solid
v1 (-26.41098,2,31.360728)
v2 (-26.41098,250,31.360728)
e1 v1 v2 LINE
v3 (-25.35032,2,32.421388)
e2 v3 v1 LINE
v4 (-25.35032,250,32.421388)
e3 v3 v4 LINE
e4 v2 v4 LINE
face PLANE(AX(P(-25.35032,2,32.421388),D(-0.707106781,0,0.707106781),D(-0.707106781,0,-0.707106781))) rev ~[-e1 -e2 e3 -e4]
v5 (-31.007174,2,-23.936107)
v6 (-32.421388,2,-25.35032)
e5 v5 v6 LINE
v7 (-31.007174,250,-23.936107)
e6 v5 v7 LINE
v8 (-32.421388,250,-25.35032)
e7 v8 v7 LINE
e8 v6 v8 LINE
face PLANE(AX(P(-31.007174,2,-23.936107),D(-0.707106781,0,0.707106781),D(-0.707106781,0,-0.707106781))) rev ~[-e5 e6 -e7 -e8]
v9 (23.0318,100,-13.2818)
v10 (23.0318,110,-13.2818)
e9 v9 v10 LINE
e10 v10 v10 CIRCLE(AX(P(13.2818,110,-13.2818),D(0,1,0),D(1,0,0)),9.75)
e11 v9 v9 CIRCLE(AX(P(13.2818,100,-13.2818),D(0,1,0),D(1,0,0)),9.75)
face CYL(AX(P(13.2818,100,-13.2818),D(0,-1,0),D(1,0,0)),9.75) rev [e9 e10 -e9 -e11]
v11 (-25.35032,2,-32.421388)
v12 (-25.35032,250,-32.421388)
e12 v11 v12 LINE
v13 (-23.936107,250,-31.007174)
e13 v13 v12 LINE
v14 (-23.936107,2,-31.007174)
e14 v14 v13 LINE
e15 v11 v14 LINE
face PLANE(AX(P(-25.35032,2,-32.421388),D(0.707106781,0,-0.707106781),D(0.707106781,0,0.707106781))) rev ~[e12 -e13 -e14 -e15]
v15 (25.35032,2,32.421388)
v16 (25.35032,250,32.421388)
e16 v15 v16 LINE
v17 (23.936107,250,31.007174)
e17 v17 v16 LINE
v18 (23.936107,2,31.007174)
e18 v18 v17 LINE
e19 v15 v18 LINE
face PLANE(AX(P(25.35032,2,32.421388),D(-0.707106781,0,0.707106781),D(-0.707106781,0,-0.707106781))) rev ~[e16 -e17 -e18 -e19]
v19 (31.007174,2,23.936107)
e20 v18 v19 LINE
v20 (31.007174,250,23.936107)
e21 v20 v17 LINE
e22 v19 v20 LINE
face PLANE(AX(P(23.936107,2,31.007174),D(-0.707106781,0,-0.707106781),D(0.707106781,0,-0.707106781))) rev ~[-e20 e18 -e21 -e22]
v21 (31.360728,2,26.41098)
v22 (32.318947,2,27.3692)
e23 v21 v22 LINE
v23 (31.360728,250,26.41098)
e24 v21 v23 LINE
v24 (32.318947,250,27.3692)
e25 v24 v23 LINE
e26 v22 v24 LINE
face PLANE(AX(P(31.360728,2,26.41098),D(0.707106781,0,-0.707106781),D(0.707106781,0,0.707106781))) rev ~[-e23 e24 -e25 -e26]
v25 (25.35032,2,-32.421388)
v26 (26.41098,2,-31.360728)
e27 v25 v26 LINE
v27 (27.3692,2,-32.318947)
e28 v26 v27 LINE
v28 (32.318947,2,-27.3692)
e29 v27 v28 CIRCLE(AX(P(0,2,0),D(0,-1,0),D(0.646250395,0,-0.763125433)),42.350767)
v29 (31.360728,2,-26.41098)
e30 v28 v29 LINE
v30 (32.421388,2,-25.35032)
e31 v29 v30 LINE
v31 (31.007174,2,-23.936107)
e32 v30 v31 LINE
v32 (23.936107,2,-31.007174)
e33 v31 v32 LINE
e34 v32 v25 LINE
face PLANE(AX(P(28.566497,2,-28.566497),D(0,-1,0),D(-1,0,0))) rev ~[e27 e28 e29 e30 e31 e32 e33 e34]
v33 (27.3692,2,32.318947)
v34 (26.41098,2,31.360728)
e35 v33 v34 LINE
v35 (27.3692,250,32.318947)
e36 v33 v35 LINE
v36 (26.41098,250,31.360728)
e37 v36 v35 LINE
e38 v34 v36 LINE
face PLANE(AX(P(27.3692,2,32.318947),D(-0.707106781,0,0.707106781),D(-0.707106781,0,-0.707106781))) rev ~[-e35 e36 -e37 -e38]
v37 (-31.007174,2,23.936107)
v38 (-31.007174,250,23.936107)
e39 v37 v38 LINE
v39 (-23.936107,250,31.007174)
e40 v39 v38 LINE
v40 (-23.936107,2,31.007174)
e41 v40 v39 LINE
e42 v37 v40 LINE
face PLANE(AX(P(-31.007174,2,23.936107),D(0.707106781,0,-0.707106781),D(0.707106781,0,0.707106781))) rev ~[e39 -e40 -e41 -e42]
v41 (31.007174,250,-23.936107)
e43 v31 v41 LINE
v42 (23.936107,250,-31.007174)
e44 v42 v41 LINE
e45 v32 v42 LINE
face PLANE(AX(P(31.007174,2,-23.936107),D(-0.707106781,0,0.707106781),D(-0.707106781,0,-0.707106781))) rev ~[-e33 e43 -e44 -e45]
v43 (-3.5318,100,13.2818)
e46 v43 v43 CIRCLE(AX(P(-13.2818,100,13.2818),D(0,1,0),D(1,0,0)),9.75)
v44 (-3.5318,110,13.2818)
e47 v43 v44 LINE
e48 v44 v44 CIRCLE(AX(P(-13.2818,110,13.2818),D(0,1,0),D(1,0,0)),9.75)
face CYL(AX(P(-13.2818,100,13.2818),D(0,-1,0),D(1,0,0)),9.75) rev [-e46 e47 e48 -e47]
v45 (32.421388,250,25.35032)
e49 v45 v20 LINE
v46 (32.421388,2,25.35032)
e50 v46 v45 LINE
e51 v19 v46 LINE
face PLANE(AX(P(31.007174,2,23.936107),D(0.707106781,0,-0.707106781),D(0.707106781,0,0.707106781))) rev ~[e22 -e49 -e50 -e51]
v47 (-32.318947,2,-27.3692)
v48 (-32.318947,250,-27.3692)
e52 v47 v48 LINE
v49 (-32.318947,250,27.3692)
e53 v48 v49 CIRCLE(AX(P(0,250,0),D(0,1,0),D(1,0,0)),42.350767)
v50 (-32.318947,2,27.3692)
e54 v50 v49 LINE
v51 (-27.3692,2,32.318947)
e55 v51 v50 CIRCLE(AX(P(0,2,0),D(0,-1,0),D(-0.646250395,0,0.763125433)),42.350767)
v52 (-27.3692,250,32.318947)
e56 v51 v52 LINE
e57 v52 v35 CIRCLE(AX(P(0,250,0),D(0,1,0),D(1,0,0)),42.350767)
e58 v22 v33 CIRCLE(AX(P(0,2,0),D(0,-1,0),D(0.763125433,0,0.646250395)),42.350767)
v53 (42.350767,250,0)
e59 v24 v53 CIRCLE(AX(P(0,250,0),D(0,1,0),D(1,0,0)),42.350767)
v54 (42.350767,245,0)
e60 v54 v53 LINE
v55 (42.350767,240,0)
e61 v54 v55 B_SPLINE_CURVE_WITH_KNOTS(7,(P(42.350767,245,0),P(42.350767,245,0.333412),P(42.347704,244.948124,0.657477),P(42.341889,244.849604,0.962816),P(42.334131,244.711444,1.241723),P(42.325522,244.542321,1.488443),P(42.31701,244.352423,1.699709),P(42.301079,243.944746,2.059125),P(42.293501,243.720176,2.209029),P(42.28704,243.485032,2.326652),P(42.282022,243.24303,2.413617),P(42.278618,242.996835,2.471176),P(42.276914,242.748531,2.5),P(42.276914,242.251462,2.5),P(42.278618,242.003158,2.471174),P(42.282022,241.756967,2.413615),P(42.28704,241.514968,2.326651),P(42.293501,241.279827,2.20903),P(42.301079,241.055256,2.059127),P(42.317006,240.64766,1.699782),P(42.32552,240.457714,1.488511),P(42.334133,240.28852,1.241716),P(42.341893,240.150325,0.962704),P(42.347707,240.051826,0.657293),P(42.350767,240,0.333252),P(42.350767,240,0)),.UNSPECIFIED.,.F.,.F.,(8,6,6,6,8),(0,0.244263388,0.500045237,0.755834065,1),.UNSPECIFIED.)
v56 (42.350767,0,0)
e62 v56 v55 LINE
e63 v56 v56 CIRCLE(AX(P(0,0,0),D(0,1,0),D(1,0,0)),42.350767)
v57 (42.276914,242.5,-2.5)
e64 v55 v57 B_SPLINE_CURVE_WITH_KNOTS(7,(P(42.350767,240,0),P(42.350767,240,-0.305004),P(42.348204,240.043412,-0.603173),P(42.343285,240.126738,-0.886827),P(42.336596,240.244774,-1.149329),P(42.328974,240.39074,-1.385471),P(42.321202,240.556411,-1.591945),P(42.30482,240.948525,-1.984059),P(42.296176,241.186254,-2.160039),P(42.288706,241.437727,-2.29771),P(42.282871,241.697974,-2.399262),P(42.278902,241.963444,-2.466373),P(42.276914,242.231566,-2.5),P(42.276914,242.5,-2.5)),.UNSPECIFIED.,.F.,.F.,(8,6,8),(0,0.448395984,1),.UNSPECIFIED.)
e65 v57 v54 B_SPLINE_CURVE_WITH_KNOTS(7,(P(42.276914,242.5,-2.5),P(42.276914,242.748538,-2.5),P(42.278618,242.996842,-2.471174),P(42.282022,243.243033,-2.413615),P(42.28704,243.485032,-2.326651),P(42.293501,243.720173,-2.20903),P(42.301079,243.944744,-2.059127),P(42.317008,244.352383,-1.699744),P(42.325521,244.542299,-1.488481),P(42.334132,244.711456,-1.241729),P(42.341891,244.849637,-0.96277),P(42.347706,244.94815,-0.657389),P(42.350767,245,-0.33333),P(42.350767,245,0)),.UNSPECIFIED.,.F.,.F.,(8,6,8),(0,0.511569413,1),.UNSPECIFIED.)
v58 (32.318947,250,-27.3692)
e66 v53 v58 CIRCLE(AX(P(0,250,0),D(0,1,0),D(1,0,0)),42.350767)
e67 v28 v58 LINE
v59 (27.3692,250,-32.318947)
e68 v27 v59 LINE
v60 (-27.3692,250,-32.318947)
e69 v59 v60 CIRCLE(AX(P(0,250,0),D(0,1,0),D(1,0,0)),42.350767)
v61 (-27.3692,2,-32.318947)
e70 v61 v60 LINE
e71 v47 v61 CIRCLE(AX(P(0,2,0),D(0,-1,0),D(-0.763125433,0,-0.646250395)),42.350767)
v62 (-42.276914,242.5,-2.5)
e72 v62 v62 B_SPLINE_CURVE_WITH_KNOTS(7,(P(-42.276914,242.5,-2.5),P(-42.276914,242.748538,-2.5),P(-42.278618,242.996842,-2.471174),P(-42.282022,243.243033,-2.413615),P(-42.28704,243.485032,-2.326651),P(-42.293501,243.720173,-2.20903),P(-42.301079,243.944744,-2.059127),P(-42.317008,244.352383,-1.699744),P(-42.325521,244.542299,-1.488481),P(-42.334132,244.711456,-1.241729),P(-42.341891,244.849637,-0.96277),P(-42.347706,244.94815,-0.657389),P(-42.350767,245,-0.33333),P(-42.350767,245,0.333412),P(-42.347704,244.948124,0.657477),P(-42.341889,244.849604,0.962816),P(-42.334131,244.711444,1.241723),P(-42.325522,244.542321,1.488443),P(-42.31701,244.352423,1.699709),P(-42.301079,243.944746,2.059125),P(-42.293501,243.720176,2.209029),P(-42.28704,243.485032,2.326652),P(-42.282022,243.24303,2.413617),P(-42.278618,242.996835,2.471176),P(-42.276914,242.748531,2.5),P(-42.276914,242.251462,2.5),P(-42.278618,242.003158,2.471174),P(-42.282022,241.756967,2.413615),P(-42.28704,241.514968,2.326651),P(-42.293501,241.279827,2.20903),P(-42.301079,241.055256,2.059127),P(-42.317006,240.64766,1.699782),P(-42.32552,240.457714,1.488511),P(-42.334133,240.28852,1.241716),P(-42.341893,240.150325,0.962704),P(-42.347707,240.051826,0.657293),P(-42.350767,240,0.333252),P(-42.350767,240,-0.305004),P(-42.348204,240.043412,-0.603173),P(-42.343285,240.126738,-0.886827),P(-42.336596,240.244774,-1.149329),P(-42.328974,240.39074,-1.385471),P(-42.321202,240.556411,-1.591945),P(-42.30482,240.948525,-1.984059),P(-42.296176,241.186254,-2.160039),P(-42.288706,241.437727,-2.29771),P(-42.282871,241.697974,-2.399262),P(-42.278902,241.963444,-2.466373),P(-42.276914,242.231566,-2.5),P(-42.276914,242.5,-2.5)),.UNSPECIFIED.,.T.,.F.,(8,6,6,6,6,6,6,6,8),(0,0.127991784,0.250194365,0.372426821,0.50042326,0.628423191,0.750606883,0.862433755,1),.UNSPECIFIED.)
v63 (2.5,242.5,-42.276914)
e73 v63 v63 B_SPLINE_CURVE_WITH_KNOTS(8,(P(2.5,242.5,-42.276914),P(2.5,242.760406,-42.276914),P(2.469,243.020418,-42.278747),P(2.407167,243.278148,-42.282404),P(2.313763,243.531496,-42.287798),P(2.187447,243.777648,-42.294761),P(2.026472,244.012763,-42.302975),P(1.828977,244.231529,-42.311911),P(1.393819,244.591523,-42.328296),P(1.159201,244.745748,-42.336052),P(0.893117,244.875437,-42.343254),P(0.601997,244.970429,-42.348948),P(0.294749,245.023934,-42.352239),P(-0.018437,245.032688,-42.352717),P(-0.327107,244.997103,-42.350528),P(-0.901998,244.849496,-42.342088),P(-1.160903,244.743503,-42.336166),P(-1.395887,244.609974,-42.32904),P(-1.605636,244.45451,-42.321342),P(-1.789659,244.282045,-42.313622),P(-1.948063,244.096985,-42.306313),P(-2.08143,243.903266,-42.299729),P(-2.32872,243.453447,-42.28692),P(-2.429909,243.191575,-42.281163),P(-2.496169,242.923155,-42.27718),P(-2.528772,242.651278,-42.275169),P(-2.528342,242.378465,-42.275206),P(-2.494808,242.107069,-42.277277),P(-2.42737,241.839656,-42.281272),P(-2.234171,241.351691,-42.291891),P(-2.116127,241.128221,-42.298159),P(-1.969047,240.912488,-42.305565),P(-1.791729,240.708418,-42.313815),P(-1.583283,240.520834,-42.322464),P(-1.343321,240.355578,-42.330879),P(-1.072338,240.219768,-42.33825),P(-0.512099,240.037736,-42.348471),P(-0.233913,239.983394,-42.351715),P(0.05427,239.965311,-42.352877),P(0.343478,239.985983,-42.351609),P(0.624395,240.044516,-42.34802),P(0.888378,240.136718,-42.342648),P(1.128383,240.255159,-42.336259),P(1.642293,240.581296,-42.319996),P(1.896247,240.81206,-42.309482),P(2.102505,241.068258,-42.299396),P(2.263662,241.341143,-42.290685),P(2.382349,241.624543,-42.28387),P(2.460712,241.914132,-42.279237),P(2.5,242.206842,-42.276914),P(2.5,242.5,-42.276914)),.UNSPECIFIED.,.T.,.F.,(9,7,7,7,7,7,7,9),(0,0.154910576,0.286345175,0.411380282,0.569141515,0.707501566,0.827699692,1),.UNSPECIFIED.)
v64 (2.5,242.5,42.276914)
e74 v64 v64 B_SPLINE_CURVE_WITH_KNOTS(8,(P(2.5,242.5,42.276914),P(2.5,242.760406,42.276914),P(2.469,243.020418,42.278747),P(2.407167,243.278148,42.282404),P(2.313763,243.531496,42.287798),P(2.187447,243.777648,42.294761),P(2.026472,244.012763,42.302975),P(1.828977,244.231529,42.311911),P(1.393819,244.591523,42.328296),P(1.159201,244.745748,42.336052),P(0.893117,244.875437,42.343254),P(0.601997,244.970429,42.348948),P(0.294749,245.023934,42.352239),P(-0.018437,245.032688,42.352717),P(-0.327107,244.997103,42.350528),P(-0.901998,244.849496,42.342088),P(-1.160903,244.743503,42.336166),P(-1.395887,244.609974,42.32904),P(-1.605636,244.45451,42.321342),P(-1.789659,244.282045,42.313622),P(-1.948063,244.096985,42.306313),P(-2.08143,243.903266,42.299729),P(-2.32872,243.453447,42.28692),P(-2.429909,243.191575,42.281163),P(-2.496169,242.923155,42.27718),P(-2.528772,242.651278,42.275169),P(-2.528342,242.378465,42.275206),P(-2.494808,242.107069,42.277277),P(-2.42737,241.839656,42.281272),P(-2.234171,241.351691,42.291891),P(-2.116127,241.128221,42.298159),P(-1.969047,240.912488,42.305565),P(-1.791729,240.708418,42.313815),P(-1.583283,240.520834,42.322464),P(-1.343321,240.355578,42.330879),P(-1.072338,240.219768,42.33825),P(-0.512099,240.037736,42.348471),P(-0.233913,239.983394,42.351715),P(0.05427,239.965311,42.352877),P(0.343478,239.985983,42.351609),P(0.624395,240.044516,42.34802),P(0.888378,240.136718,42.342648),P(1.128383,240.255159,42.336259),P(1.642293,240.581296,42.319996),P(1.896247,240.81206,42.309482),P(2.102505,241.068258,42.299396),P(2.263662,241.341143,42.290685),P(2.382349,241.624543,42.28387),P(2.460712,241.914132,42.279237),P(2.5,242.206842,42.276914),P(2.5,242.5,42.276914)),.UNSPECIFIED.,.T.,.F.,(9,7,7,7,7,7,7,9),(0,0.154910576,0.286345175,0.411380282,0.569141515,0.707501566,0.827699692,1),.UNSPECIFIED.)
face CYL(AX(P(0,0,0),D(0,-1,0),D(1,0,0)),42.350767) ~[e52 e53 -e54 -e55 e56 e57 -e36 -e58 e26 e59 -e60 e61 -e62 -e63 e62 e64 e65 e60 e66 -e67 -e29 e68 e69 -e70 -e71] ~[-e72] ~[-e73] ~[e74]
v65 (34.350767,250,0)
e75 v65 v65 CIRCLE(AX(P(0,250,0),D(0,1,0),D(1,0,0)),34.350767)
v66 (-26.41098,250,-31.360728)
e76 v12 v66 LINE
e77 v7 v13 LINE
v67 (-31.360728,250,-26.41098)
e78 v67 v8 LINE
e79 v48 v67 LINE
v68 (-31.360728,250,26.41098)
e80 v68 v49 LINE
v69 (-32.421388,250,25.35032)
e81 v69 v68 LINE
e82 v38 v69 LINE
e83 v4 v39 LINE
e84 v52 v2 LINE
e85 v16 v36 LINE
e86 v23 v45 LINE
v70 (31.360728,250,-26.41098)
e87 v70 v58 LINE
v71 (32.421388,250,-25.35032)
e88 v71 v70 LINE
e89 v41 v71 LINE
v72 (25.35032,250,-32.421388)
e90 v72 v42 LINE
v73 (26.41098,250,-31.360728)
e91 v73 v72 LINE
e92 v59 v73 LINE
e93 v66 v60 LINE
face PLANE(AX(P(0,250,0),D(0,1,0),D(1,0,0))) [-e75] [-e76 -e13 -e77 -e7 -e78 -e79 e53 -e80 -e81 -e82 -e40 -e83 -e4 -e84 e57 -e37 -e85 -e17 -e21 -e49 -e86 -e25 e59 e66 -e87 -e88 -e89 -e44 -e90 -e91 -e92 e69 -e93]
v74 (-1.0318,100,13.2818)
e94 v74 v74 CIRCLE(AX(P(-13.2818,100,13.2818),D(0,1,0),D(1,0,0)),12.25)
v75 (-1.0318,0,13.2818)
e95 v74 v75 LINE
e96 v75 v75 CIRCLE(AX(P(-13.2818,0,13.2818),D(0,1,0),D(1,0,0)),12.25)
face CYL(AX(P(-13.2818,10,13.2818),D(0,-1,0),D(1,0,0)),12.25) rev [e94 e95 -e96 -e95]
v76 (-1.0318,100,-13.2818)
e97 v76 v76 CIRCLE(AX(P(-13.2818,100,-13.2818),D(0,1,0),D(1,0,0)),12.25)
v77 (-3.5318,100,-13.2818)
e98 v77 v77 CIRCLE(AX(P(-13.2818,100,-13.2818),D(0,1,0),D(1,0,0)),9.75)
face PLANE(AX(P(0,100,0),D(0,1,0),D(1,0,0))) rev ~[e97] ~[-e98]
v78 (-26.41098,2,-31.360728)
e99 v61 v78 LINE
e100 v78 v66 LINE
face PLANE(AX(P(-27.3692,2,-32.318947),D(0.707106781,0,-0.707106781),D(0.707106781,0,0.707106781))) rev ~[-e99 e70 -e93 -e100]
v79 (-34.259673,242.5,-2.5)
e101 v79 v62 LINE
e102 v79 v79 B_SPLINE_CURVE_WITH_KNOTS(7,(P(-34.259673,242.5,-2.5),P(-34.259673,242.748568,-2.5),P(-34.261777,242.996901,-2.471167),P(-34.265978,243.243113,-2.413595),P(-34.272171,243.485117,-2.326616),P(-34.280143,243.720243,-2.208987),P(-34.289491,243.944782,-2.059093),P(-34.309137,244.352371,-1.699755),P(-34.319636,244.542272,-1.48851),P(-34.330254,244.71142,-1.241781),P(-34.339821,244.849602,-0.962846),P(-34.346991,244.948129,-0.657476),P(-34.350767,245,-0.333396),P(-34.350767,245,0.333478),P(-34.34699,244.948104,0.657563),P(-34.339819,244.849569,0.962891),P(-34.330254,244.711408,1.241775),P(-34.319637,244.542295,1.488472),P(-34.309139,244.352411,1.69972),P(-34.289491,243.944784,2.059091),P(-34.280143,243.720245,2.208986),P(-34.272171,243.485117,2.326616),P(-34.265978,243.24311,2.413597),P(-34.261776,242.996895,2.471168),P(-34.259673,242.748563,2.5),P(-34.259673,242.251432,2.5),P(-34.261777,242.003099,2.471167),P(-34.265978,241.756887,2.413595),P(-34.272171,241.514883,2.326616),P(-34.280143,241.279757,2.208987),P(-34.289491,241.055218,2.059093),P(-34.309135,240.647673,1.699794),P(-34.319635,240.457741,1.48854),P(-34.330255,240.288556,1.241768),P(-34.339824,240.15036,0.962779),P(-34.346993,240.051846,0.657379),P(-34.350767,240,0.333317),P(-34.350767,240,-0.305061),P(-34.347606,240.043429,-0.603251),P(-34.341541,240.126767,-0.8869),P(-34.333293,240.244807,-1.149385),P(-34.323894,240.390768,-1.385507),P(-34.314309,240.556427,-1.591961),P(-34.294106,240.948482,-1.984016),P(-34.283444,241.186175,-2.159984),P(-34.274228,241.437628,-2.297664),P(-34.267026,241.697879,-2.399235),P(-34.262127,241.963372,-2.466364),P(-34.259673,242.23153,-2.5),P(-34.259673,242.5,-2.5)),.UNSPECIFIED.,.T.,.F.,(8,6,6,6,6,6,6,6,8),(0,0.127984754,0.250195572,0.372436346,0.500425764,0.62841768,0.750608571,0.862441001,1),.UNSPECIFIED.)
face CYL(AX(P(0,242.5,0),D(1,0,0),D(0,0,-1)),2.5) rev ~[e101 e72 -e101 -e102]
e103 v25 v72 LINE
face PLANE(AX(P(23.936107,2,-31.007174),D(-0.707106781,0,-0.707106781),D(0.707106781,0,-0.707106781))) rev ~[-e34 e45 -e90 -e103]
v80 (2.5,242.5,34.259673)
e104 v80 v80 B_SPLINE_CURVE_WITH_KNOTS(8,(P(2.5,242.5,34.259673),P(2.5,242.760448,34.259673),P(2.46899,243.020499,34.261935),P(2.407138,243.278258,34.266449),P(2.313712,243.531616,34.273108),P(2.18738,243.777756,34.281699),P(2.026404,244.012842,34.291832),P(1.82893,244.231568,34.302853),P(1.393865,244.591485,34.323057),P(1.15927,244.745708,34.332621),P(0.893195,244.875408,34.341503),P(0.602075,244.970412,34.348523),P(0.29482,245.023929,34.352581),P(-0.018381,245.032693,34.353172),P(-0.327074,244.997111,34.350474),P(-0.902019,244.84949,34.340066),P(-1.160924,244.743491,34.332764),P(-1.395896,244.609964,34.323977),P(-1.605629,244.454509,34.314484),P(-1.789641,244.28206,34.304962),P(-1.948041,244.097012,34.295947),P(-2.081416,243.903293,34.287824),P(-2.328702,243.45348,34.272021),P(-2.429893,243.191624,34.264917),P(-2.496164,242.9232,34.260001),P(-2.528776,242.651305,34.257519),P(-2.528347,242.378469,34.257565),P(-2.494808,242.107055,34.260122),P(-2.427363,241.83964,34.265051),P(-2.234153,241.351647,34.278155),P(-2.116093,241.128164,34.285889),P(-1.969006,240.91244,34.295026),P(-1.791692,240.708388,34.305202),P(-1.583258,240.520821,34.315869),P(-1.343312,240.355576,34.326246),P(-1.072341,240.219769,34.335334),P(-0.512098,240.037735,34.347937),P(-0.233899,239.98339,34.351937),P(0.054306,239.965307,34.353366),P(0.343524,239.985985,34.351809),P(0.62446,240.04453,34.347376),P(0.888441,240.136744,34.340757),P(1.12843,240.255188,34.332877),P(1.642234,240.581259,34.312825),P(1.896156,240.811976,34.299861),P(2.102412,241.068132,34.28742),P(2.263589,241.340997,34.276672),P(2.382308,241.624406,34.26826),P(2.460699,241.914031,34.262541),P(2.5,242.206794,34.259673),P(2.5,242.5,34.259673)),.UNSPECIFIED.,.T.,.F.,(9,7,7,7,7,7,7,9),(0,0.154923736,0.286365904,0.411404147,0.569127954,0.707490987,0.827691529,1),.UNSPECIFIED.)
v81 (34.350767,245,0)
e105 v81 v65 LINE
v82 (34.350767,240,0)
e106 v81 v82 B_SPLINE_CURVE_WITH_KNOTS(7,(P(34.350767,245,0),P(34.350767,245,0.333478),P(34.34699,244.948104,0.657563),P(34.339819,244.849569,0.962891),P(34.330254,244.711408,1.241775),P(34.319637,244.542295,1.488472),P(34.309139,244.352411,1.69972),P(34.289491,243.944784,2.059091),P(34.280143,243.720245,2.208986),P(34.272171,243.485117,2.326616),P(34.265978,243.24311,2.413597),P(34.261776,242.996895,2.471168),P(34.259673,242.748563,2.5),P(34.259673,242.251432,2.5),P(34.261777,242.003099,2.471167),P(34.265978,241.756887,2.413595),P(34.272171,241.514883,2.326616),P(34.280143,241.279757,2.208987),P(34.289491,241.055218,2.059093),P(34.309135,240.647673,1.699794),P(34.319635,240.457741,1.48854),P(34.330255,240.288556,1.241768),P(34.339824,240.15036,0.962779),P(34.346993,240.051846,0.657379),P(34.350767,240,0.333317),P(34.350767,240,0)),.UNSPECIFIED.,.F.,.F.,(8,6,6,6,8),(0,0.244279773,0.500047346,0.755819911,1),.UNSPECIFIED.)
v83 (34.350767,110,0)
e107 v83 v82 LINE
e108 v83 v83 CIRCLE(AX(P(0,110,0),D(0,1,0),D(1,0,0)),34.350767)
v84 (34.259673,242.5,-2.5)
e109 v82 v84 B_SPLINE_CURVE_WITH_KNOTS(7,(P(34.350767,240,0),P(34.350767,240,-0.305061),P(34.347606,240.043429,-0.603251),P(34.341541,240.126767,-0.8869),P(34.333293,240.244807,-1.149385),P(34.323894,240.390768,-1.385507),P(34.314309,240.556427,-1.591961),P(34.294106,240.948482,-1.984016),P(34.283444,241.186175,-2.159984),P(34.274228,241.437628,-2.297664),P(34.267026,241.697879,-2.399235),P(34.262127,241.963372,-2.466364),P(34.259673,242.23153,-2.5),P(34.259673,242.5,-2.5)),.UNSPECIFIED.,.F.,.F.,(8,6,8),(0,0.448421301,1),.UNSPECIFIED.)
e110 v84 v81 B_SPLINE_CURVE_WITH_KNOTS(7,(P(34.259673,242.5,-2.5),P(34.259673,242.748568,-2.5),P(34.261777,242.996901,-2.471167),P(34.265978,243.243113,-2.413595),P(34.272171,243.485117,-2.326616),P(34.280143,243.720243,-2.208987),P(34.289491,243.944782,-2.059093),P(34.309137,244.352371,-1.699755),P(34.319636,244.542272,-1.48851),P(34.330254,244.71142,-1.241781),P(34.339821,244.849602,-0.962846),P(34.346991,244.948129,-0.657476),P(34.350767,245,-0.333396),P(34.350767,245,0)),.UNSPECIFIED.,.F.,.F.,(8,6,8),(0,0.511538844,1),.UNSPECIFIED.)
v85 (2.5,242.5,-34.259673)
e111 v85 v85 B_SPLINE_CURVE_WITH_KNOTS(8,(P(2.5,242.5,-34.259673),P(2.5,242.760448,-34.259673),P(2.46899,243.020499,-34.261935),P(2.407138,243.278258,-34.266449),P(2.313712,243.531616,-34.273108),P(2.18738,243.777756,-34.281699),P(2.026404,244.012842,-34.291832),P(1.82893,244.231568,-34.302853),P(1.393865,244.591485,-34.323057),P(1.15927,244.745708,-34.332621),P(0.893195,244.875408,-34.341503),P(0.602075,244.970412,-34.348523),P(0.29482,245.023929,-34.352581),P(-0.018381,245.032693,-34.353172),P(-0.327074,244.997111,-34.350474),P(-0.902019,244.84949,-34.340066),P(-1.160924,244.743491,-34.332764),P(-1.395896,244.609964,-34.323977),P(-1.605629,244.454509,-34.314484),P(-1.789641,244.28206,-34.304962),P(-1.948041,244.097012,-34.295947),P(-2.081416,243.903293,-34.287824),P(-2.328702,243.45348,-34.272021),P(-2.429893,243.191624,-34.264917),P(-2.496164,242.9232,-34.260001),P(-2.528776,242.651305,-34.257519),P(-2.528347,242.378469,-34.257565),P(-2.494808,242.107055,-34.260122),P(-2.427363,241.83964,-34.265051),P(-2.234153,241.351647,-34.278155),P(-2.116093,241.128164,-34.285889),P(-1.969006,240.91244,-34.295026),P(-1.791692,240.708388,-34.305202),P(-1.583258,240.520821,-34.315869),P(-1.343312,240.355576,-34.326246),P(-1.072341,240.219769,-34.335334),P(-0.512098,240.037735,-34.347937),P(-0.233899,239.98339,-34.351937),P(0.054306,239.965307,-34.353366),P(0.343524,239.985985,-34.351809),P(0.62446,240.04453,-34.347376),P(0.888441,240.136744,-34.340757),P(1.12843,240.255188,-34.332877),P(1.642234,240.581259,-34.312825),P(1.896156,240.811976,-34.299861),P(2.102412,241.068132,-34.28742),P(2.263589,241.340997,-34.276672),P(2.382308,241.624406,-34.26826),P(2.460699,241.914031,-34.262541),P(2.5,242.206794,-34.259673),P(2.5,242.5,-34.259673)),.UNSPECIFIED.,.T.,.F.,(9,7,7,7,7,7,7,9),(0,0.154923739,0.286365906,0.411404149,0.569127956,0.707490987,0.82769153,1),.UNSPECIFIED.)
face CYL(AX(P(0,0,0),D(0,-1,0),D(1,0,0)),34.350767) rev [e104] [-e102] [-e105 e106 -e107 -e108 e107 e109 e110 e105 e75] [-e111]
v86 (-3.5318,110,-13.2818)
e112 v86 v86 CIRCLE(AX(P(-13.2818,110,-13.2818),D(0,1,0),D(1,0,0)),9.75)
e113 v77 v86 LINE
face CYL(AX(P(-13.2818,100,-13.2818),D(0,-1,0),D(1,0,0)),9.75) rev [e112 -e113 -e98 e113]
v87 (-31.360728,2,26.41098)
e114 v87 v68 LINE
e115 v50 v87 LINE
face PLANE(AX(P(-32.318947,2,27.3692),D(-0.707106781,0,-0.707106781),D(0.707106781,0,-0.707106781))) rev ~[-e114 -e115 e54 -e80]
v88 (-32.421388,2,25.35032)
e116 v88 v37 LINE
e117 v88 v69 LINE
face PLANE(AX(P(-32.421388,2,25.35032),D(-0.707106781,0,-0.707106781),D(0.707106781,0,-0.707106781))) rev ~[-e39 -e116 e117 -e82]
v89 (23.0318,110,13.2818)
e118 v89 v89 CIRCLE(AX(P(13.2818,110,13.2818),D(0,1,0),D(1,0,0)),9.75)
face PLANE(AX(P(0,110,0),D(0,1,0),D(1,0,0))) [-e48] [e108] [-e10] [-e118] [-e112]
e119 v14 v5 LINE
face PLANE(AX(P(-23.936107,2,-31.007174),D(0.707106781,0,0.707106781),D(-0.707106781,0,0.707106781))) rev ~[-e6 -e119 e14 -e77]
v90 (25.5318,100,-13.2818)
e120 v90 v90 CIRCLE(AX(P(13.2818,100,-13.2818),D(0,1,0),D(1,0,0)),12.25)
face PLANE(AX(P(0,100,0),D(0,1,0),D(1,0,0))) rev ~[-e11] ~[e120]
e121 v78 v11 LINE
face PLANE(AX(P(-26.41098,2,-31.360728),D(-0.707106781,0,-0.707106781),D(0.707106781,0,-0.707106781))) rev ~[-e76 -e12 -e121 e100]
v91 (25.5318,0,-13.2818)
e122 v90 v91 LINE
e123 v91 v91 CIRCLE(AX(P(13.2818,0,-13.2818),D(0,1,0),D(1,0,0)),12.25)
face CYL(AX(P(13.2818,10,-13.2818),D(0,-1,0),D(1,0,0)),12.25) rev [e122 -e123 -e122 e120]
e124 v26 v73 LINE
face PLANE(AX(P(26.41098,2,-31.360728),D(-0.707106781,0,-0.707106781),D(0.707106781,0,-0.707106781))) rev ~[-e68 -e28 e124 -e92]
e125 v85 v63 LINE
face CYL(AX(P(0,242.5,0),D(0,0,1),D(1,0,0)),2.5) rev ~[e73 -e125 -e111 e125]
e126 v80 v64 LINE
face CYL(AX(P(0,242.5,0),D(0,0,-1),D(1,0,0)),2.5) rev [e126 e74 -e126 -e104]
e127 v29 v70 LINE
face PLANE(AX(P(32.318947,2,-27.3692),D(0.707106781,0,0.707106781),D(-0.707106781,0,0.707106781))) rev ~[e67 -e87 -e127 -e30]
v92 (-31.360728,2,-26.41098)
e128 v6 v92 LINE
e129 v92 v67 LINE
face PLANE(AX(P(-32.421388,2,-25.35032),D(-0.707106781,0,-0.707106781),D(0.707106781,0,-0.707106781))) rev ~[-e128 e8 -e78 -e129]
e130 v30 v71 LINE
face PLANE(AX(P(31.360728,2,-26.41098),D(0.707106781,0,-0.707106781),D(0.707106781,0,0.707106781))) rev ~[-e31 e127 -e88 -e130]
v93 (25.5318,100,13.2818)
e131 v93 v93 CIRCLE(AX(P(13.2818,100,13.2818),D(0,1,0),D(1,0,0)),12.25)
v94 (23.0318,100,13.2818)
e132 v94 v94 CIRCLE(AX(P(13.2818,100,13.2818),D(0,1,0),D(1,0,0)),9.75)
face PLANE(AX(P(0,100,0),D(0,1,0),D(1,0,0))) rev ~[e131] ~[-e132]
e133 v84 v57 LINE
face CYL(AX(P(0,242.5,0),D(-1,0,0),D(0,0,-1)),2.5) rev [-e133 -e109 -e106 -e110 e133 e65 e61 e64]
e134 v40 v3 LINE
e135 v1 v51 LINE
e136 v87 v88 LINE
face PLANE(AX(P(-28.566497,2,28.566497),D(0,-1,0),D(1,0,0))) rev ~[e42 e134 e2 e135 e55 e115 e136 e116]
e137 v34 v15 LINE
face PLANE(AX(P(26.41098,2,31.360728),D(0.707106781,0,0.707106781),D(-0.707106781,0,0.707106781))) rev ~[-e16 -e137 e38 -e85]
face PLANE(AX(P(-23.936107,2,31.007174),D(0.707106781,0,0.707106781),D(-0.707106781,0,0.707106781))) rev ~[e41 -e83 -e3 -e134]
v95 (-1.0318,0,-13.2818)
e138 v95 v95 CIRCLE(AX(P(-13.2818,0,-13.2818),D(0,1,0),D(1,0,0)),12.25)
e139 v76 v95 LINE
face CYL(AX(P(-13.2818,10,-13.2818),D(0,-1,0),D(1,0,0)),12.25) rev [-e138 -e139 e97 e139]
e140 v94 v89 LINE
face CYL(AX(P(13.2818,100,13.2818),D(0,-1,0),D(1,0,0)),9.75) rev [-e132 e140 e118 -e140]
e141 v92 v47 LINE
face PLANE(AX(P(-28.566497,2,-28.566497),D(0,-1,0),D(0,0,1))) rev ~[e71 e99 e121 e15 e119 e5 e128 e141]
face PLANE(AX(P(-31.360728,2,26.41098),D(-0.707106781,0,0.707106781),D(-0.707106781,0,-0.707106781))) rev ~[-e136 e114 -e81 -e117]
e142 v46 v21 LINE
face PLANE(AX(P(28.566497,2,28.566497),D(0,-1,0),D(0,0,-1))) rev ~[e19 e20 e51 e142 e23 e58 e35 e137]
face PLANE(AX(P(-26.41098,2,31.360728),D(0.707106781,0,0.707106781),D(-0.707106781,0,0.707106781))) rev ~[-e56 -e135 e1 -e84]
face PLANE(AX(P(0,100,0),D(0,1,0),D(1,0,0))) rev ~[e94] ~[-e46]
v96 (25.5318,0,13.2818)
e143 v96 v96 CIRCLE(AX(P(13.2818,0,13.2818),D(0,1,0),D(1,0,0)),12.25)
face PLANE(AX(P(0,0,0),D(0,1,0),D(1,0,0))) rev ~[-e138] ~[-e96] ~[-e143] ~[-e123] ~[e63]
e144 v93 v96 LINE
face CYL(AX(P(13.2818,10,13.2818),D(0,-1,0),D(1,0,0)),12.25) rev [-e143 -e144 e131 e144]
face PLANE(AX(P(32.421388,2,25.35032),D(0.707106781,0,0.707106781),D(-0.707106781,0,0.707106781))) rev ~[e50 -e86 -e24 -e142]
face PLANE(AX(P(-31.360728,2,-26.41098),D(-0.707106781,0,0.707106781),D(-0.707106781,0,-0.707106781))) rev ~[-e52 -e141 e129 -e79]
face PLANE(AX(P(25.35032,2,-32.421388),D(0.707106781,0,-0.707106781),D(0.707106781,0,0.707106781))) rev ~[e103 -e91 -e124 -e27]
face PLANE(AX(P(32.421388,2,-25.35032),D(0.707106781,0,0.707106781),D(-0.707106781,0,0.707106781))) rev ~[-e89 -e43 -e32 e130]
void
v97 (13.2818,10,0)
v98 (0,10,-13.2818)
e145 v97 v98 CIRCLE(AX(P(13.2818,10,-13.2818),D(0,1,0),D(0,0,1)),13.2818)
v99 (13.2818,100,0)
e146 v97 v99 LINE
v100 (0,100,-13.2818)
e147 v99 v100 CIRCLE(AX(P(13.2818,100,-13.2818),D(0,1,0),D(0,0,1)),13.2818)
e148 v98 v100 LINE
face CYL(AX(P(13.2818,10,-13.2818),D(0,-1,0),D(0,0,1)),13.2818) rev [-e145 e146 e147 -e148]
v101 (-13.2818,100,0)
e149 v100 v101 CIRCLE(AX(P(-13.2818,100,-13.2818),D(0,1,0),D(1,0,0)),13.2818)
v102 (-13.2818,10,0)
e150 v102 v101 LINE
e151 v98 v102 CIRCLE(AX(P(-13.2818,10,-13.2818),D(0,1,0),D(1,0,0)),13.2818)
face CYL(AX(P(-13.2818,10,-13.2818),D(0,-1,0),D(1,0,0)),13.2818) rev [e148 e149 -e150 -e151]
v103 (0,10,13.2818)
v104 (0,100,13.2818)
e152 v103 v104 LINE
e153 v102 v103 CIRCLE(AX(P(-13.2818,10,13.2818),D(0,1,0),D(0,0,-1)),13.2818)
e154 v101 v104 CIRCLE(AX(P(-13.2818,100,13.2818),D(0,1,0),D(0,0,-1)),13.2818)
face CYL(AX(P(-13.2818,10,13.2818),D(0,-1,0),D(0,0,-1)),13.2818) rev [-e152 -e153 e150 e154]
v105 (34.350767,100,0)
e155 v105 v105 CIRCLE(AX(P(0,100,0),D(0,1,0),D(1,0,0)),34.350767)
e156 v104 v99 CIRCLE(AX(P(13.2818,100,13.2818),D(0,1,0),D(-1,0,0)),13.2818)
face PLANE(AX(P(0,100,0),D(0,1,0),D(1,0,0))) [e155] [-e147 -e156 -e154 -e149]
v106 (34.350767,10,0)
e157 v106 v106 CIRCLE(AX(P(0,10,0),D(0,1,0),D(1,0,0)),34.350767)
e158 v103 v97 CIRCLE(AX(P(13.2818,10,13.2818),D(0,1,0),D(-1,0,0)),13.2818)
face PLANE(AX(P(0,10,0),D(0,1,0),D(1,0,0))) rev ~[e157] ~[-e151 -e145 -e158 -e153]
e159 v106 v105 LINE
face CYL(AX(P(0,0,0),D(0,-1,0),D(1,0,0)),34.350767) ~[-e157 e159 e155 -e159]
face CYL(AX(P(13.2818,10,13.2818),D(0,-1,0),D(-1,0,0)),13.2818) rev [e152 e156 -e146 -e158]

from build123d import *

# Parameters (mm, degrees)
SKETCH1_R               = 42.350766569
SKETCH1_R_2             = 34.350766569
BOSS_EXTRUDE1_DEPTH     = 250
SKETCH2_R               = 2.5
CUT_EXTRUDE1_DEPTH      = 43.350766569
CUT_EXTRUDE1_DEPTH_BACK = 43.350766569
SKETCH3_R               = 2.5
CUT_EXTRUDE2_DEPTH      = 43.350766669
CUT_EXTRUDE2_DEPTH_BACK = 43.350766669
CUT_EXTRUDE3_DEPTH      = 249.0000001
CIRPATTERN1_COUNT       = 4
SKETCH6_R               = 34.350766569
SKETCH6_R_2             = 12.25
BOSS_EXTRUDE3_DEPTH     = 10
SKETCH8_R               = 12.25
BOSS_EXTRUDE6_DEPTH     = 90
SKETCH9_R               = 34.350766569
SKETCH9_R_2             = 9.75
BOSS_EXTRUDE7_DEPTH     = 10


with BuildPart() as part:
    # Sketch1 → Boss-Extrude1 (new body)
    with BuildSketch(Plane(origin=(0, 0, 0), x_dir=(1, 0, 0), z_dir=(0, 1, 0))):
        Circle(SKETCH1_R)
        Circle(SKETCH1_R_2, mode=Mode.SUBTRACT)
    extrude(amount=BOSS_EXTRUDE1_DEPTH)

    # Sketch2 → Cut-Extrude1 (cut, two sides)
    with BuildSketch(Plane(origin=(0, 0, 0), x_dir=(0, 0, -1), z_dir=(1, 0, 0))) as cut_extrude1_sk:
        with Locations((0, 242.5)):
            Circle(SKETCH2_R)
    extrude(amount=CUT_EXTRUDE1_DEPTH, mode=Mode.SUBTRACT)
    extrude(cut_extrude1_sk.sketch, amount=-CUT_EXTRUDE1_DEPTH_BACK, mode=Mode.SUBTRACT)

    # Sketch3 → Cut-Extrude2 (cut, two sides)
    with BuildSketch(Plane.XY) as cut_extrude2_sk:
        with Locations((0, 242.5)):
            Circle(SKETCH3_R)
    extrude(amount=CUT_EXTRUDE2_DEPTH, mode=Mode.SUBTRACT)
    extrude(cut_extrude2_sk.sketch, amount=-CUT_EXTRUDE2_DEPTH_BACK, mode=Mode.SUBTRACT)

    # Sketch4 → Cut-Extrude3 (cut, through all)
    with BuildSketch(Plane(origin=(0, 2, 0), x_dir=(1, 0, 0), z_dir=(0, 1, 0))):
        with BuildLine():
            Line((31.007174401, 23.936106589), (23.936106589, 31.007174401))
            Line((23.936106589, 31.007174401), (25.350320151, 32.421387963))
            Line((25.350320151, 32.421387963), (26.410980323, 31.360727791))
            Line((26.410980323, 31.360727791), (27.369199622, 32.31894709))
            ThreePointArc((27.369199622, 32.31894709), (29.946514229, 29.946514229), (32.31894709, 27.369199622))
            Line((32.31894709, 27.369199622), (31.360727791, 26.410980323))
            Line((31.360727791, 26.410980323), (32.421387963, 25.350320151))
            Line((32.421387963, 25.350320151), (31.007174401, 23.936106589))
        make_face()
    cut_extrude3 = extrude(amount=CUT_EXTRUDE3_DEPTH, mode=Mode.SUBTRACT)

    # CirPattern1: Cut-Extrude3 ×4 about axis
    cirpattern1_axis = Axis((0, 0, 0), (0, 1, 0))
    for i in range(1, CIRPATTERN1_COUNT):
        add(cut_extrude3.rotate(cirpattern1_axis, i * 360 / CIRPATTERN1_COUNT), mode=Mode.SUBTRACT)

    # Sketch6 → Boss-Extrude3 (add)
    with BuildSketch(Plane(origin=(0, 0, 0), x_dir=(1, 0, 0), z_dir=(0, 1, 0))):
        Circle(SKETCH6_R)
        with Locations((-13.281800184, 13.281800184)):
            Circle(SKETCH6_R_2, mode=Mode.SUBTRACT)
        with Locations((13.281800184, 13.281800184)):
            Circle(SKETCH6_R_2, mode=Mode.SUBTRACT)
        with Locations((13.281800184, -13.281800184)):
            Circle(SKETCH6_R_2, mode=Mode.SUBTRACT)
        with Locations((-13.281800184, -13.281800184)):
            Circle(SKETCH6_R_2, mode=Mode.SUBTRACT)
    extrude(amount=BOSS_EXTRUDE3_DEPTH)

    # Sketch8 → Boss-Extrude6 (add)
    with BuildSketch(Plane(origin=(0, 10, 0), x_dir=(1, 0, 0), z_dir=(0, 1, 0))):
        with BuildLine():
            ThreePointArc((0, 13.281800184), (-22.67345116, 22.67345116), (-13.281800184, 0))
            ThreePointArc((-13.281800184, 0), (-22.67345116, -22.67345116), (0, -13.281800184))
            ThreePointArc((0, -13.281800184), (22.67345116, -22.67345116), (13.281800184, 0))
            ThreePointArc((13.281800184, 0), (22.67345116, 22.67345116), (0, 13.281800184))
        make_face()
        with Locations((-13.281800184, -13.281800184)):
            Circle(SKETCH8_R, mode=Mode.SUBTRACT)
        with Locations((13.281800184, -13.281800184)):
            Circle(SKETCH8_R, mode=Mode.SUBTRACT)
        with Locations((13.281800184, 13.281800184)):
            Circle(SKETCH8_R, mode=Mode.SUBTRACT)
        with Locations((-13.281800184, 13.281800184)):
            Circle(SKETCH8_R, mode=Mode.SUBTRACT)
    extrude(amount=BOSS_EXTRUDE6_DEPTH)

    # Sketch9 → Boss-Extrude7 (add)
    with BuildSketch(Plane(origin=(0, 100, 0), x_dir=(1, 0, 0), z_dir=(0, 1, 0))):
        Circle(SKETCH9_R)
        with Locations((-13.281800184, 13.281800184)):
            Circle(SKETCH9_R_2, mode=Mode.SUBTRACT)
        with Locations((13.281800184, 13.281800184)):
            Circle(SKETCH9_R_2, mode=Mode.SUBTRACT)
        with Locations((13.281800184, -13.281800184)):
            Circle(SKETCH9_R_2, mode=Mode.SUBTRACT)
        with Locations((-13.281800184, -13.281800184)):
            Circle(SKETCH9_R_2, mode=Mode.SUBTRACT)
    extrude(amount=BOSS_EXTRUDE7_DEPTH)


solid = part.part
